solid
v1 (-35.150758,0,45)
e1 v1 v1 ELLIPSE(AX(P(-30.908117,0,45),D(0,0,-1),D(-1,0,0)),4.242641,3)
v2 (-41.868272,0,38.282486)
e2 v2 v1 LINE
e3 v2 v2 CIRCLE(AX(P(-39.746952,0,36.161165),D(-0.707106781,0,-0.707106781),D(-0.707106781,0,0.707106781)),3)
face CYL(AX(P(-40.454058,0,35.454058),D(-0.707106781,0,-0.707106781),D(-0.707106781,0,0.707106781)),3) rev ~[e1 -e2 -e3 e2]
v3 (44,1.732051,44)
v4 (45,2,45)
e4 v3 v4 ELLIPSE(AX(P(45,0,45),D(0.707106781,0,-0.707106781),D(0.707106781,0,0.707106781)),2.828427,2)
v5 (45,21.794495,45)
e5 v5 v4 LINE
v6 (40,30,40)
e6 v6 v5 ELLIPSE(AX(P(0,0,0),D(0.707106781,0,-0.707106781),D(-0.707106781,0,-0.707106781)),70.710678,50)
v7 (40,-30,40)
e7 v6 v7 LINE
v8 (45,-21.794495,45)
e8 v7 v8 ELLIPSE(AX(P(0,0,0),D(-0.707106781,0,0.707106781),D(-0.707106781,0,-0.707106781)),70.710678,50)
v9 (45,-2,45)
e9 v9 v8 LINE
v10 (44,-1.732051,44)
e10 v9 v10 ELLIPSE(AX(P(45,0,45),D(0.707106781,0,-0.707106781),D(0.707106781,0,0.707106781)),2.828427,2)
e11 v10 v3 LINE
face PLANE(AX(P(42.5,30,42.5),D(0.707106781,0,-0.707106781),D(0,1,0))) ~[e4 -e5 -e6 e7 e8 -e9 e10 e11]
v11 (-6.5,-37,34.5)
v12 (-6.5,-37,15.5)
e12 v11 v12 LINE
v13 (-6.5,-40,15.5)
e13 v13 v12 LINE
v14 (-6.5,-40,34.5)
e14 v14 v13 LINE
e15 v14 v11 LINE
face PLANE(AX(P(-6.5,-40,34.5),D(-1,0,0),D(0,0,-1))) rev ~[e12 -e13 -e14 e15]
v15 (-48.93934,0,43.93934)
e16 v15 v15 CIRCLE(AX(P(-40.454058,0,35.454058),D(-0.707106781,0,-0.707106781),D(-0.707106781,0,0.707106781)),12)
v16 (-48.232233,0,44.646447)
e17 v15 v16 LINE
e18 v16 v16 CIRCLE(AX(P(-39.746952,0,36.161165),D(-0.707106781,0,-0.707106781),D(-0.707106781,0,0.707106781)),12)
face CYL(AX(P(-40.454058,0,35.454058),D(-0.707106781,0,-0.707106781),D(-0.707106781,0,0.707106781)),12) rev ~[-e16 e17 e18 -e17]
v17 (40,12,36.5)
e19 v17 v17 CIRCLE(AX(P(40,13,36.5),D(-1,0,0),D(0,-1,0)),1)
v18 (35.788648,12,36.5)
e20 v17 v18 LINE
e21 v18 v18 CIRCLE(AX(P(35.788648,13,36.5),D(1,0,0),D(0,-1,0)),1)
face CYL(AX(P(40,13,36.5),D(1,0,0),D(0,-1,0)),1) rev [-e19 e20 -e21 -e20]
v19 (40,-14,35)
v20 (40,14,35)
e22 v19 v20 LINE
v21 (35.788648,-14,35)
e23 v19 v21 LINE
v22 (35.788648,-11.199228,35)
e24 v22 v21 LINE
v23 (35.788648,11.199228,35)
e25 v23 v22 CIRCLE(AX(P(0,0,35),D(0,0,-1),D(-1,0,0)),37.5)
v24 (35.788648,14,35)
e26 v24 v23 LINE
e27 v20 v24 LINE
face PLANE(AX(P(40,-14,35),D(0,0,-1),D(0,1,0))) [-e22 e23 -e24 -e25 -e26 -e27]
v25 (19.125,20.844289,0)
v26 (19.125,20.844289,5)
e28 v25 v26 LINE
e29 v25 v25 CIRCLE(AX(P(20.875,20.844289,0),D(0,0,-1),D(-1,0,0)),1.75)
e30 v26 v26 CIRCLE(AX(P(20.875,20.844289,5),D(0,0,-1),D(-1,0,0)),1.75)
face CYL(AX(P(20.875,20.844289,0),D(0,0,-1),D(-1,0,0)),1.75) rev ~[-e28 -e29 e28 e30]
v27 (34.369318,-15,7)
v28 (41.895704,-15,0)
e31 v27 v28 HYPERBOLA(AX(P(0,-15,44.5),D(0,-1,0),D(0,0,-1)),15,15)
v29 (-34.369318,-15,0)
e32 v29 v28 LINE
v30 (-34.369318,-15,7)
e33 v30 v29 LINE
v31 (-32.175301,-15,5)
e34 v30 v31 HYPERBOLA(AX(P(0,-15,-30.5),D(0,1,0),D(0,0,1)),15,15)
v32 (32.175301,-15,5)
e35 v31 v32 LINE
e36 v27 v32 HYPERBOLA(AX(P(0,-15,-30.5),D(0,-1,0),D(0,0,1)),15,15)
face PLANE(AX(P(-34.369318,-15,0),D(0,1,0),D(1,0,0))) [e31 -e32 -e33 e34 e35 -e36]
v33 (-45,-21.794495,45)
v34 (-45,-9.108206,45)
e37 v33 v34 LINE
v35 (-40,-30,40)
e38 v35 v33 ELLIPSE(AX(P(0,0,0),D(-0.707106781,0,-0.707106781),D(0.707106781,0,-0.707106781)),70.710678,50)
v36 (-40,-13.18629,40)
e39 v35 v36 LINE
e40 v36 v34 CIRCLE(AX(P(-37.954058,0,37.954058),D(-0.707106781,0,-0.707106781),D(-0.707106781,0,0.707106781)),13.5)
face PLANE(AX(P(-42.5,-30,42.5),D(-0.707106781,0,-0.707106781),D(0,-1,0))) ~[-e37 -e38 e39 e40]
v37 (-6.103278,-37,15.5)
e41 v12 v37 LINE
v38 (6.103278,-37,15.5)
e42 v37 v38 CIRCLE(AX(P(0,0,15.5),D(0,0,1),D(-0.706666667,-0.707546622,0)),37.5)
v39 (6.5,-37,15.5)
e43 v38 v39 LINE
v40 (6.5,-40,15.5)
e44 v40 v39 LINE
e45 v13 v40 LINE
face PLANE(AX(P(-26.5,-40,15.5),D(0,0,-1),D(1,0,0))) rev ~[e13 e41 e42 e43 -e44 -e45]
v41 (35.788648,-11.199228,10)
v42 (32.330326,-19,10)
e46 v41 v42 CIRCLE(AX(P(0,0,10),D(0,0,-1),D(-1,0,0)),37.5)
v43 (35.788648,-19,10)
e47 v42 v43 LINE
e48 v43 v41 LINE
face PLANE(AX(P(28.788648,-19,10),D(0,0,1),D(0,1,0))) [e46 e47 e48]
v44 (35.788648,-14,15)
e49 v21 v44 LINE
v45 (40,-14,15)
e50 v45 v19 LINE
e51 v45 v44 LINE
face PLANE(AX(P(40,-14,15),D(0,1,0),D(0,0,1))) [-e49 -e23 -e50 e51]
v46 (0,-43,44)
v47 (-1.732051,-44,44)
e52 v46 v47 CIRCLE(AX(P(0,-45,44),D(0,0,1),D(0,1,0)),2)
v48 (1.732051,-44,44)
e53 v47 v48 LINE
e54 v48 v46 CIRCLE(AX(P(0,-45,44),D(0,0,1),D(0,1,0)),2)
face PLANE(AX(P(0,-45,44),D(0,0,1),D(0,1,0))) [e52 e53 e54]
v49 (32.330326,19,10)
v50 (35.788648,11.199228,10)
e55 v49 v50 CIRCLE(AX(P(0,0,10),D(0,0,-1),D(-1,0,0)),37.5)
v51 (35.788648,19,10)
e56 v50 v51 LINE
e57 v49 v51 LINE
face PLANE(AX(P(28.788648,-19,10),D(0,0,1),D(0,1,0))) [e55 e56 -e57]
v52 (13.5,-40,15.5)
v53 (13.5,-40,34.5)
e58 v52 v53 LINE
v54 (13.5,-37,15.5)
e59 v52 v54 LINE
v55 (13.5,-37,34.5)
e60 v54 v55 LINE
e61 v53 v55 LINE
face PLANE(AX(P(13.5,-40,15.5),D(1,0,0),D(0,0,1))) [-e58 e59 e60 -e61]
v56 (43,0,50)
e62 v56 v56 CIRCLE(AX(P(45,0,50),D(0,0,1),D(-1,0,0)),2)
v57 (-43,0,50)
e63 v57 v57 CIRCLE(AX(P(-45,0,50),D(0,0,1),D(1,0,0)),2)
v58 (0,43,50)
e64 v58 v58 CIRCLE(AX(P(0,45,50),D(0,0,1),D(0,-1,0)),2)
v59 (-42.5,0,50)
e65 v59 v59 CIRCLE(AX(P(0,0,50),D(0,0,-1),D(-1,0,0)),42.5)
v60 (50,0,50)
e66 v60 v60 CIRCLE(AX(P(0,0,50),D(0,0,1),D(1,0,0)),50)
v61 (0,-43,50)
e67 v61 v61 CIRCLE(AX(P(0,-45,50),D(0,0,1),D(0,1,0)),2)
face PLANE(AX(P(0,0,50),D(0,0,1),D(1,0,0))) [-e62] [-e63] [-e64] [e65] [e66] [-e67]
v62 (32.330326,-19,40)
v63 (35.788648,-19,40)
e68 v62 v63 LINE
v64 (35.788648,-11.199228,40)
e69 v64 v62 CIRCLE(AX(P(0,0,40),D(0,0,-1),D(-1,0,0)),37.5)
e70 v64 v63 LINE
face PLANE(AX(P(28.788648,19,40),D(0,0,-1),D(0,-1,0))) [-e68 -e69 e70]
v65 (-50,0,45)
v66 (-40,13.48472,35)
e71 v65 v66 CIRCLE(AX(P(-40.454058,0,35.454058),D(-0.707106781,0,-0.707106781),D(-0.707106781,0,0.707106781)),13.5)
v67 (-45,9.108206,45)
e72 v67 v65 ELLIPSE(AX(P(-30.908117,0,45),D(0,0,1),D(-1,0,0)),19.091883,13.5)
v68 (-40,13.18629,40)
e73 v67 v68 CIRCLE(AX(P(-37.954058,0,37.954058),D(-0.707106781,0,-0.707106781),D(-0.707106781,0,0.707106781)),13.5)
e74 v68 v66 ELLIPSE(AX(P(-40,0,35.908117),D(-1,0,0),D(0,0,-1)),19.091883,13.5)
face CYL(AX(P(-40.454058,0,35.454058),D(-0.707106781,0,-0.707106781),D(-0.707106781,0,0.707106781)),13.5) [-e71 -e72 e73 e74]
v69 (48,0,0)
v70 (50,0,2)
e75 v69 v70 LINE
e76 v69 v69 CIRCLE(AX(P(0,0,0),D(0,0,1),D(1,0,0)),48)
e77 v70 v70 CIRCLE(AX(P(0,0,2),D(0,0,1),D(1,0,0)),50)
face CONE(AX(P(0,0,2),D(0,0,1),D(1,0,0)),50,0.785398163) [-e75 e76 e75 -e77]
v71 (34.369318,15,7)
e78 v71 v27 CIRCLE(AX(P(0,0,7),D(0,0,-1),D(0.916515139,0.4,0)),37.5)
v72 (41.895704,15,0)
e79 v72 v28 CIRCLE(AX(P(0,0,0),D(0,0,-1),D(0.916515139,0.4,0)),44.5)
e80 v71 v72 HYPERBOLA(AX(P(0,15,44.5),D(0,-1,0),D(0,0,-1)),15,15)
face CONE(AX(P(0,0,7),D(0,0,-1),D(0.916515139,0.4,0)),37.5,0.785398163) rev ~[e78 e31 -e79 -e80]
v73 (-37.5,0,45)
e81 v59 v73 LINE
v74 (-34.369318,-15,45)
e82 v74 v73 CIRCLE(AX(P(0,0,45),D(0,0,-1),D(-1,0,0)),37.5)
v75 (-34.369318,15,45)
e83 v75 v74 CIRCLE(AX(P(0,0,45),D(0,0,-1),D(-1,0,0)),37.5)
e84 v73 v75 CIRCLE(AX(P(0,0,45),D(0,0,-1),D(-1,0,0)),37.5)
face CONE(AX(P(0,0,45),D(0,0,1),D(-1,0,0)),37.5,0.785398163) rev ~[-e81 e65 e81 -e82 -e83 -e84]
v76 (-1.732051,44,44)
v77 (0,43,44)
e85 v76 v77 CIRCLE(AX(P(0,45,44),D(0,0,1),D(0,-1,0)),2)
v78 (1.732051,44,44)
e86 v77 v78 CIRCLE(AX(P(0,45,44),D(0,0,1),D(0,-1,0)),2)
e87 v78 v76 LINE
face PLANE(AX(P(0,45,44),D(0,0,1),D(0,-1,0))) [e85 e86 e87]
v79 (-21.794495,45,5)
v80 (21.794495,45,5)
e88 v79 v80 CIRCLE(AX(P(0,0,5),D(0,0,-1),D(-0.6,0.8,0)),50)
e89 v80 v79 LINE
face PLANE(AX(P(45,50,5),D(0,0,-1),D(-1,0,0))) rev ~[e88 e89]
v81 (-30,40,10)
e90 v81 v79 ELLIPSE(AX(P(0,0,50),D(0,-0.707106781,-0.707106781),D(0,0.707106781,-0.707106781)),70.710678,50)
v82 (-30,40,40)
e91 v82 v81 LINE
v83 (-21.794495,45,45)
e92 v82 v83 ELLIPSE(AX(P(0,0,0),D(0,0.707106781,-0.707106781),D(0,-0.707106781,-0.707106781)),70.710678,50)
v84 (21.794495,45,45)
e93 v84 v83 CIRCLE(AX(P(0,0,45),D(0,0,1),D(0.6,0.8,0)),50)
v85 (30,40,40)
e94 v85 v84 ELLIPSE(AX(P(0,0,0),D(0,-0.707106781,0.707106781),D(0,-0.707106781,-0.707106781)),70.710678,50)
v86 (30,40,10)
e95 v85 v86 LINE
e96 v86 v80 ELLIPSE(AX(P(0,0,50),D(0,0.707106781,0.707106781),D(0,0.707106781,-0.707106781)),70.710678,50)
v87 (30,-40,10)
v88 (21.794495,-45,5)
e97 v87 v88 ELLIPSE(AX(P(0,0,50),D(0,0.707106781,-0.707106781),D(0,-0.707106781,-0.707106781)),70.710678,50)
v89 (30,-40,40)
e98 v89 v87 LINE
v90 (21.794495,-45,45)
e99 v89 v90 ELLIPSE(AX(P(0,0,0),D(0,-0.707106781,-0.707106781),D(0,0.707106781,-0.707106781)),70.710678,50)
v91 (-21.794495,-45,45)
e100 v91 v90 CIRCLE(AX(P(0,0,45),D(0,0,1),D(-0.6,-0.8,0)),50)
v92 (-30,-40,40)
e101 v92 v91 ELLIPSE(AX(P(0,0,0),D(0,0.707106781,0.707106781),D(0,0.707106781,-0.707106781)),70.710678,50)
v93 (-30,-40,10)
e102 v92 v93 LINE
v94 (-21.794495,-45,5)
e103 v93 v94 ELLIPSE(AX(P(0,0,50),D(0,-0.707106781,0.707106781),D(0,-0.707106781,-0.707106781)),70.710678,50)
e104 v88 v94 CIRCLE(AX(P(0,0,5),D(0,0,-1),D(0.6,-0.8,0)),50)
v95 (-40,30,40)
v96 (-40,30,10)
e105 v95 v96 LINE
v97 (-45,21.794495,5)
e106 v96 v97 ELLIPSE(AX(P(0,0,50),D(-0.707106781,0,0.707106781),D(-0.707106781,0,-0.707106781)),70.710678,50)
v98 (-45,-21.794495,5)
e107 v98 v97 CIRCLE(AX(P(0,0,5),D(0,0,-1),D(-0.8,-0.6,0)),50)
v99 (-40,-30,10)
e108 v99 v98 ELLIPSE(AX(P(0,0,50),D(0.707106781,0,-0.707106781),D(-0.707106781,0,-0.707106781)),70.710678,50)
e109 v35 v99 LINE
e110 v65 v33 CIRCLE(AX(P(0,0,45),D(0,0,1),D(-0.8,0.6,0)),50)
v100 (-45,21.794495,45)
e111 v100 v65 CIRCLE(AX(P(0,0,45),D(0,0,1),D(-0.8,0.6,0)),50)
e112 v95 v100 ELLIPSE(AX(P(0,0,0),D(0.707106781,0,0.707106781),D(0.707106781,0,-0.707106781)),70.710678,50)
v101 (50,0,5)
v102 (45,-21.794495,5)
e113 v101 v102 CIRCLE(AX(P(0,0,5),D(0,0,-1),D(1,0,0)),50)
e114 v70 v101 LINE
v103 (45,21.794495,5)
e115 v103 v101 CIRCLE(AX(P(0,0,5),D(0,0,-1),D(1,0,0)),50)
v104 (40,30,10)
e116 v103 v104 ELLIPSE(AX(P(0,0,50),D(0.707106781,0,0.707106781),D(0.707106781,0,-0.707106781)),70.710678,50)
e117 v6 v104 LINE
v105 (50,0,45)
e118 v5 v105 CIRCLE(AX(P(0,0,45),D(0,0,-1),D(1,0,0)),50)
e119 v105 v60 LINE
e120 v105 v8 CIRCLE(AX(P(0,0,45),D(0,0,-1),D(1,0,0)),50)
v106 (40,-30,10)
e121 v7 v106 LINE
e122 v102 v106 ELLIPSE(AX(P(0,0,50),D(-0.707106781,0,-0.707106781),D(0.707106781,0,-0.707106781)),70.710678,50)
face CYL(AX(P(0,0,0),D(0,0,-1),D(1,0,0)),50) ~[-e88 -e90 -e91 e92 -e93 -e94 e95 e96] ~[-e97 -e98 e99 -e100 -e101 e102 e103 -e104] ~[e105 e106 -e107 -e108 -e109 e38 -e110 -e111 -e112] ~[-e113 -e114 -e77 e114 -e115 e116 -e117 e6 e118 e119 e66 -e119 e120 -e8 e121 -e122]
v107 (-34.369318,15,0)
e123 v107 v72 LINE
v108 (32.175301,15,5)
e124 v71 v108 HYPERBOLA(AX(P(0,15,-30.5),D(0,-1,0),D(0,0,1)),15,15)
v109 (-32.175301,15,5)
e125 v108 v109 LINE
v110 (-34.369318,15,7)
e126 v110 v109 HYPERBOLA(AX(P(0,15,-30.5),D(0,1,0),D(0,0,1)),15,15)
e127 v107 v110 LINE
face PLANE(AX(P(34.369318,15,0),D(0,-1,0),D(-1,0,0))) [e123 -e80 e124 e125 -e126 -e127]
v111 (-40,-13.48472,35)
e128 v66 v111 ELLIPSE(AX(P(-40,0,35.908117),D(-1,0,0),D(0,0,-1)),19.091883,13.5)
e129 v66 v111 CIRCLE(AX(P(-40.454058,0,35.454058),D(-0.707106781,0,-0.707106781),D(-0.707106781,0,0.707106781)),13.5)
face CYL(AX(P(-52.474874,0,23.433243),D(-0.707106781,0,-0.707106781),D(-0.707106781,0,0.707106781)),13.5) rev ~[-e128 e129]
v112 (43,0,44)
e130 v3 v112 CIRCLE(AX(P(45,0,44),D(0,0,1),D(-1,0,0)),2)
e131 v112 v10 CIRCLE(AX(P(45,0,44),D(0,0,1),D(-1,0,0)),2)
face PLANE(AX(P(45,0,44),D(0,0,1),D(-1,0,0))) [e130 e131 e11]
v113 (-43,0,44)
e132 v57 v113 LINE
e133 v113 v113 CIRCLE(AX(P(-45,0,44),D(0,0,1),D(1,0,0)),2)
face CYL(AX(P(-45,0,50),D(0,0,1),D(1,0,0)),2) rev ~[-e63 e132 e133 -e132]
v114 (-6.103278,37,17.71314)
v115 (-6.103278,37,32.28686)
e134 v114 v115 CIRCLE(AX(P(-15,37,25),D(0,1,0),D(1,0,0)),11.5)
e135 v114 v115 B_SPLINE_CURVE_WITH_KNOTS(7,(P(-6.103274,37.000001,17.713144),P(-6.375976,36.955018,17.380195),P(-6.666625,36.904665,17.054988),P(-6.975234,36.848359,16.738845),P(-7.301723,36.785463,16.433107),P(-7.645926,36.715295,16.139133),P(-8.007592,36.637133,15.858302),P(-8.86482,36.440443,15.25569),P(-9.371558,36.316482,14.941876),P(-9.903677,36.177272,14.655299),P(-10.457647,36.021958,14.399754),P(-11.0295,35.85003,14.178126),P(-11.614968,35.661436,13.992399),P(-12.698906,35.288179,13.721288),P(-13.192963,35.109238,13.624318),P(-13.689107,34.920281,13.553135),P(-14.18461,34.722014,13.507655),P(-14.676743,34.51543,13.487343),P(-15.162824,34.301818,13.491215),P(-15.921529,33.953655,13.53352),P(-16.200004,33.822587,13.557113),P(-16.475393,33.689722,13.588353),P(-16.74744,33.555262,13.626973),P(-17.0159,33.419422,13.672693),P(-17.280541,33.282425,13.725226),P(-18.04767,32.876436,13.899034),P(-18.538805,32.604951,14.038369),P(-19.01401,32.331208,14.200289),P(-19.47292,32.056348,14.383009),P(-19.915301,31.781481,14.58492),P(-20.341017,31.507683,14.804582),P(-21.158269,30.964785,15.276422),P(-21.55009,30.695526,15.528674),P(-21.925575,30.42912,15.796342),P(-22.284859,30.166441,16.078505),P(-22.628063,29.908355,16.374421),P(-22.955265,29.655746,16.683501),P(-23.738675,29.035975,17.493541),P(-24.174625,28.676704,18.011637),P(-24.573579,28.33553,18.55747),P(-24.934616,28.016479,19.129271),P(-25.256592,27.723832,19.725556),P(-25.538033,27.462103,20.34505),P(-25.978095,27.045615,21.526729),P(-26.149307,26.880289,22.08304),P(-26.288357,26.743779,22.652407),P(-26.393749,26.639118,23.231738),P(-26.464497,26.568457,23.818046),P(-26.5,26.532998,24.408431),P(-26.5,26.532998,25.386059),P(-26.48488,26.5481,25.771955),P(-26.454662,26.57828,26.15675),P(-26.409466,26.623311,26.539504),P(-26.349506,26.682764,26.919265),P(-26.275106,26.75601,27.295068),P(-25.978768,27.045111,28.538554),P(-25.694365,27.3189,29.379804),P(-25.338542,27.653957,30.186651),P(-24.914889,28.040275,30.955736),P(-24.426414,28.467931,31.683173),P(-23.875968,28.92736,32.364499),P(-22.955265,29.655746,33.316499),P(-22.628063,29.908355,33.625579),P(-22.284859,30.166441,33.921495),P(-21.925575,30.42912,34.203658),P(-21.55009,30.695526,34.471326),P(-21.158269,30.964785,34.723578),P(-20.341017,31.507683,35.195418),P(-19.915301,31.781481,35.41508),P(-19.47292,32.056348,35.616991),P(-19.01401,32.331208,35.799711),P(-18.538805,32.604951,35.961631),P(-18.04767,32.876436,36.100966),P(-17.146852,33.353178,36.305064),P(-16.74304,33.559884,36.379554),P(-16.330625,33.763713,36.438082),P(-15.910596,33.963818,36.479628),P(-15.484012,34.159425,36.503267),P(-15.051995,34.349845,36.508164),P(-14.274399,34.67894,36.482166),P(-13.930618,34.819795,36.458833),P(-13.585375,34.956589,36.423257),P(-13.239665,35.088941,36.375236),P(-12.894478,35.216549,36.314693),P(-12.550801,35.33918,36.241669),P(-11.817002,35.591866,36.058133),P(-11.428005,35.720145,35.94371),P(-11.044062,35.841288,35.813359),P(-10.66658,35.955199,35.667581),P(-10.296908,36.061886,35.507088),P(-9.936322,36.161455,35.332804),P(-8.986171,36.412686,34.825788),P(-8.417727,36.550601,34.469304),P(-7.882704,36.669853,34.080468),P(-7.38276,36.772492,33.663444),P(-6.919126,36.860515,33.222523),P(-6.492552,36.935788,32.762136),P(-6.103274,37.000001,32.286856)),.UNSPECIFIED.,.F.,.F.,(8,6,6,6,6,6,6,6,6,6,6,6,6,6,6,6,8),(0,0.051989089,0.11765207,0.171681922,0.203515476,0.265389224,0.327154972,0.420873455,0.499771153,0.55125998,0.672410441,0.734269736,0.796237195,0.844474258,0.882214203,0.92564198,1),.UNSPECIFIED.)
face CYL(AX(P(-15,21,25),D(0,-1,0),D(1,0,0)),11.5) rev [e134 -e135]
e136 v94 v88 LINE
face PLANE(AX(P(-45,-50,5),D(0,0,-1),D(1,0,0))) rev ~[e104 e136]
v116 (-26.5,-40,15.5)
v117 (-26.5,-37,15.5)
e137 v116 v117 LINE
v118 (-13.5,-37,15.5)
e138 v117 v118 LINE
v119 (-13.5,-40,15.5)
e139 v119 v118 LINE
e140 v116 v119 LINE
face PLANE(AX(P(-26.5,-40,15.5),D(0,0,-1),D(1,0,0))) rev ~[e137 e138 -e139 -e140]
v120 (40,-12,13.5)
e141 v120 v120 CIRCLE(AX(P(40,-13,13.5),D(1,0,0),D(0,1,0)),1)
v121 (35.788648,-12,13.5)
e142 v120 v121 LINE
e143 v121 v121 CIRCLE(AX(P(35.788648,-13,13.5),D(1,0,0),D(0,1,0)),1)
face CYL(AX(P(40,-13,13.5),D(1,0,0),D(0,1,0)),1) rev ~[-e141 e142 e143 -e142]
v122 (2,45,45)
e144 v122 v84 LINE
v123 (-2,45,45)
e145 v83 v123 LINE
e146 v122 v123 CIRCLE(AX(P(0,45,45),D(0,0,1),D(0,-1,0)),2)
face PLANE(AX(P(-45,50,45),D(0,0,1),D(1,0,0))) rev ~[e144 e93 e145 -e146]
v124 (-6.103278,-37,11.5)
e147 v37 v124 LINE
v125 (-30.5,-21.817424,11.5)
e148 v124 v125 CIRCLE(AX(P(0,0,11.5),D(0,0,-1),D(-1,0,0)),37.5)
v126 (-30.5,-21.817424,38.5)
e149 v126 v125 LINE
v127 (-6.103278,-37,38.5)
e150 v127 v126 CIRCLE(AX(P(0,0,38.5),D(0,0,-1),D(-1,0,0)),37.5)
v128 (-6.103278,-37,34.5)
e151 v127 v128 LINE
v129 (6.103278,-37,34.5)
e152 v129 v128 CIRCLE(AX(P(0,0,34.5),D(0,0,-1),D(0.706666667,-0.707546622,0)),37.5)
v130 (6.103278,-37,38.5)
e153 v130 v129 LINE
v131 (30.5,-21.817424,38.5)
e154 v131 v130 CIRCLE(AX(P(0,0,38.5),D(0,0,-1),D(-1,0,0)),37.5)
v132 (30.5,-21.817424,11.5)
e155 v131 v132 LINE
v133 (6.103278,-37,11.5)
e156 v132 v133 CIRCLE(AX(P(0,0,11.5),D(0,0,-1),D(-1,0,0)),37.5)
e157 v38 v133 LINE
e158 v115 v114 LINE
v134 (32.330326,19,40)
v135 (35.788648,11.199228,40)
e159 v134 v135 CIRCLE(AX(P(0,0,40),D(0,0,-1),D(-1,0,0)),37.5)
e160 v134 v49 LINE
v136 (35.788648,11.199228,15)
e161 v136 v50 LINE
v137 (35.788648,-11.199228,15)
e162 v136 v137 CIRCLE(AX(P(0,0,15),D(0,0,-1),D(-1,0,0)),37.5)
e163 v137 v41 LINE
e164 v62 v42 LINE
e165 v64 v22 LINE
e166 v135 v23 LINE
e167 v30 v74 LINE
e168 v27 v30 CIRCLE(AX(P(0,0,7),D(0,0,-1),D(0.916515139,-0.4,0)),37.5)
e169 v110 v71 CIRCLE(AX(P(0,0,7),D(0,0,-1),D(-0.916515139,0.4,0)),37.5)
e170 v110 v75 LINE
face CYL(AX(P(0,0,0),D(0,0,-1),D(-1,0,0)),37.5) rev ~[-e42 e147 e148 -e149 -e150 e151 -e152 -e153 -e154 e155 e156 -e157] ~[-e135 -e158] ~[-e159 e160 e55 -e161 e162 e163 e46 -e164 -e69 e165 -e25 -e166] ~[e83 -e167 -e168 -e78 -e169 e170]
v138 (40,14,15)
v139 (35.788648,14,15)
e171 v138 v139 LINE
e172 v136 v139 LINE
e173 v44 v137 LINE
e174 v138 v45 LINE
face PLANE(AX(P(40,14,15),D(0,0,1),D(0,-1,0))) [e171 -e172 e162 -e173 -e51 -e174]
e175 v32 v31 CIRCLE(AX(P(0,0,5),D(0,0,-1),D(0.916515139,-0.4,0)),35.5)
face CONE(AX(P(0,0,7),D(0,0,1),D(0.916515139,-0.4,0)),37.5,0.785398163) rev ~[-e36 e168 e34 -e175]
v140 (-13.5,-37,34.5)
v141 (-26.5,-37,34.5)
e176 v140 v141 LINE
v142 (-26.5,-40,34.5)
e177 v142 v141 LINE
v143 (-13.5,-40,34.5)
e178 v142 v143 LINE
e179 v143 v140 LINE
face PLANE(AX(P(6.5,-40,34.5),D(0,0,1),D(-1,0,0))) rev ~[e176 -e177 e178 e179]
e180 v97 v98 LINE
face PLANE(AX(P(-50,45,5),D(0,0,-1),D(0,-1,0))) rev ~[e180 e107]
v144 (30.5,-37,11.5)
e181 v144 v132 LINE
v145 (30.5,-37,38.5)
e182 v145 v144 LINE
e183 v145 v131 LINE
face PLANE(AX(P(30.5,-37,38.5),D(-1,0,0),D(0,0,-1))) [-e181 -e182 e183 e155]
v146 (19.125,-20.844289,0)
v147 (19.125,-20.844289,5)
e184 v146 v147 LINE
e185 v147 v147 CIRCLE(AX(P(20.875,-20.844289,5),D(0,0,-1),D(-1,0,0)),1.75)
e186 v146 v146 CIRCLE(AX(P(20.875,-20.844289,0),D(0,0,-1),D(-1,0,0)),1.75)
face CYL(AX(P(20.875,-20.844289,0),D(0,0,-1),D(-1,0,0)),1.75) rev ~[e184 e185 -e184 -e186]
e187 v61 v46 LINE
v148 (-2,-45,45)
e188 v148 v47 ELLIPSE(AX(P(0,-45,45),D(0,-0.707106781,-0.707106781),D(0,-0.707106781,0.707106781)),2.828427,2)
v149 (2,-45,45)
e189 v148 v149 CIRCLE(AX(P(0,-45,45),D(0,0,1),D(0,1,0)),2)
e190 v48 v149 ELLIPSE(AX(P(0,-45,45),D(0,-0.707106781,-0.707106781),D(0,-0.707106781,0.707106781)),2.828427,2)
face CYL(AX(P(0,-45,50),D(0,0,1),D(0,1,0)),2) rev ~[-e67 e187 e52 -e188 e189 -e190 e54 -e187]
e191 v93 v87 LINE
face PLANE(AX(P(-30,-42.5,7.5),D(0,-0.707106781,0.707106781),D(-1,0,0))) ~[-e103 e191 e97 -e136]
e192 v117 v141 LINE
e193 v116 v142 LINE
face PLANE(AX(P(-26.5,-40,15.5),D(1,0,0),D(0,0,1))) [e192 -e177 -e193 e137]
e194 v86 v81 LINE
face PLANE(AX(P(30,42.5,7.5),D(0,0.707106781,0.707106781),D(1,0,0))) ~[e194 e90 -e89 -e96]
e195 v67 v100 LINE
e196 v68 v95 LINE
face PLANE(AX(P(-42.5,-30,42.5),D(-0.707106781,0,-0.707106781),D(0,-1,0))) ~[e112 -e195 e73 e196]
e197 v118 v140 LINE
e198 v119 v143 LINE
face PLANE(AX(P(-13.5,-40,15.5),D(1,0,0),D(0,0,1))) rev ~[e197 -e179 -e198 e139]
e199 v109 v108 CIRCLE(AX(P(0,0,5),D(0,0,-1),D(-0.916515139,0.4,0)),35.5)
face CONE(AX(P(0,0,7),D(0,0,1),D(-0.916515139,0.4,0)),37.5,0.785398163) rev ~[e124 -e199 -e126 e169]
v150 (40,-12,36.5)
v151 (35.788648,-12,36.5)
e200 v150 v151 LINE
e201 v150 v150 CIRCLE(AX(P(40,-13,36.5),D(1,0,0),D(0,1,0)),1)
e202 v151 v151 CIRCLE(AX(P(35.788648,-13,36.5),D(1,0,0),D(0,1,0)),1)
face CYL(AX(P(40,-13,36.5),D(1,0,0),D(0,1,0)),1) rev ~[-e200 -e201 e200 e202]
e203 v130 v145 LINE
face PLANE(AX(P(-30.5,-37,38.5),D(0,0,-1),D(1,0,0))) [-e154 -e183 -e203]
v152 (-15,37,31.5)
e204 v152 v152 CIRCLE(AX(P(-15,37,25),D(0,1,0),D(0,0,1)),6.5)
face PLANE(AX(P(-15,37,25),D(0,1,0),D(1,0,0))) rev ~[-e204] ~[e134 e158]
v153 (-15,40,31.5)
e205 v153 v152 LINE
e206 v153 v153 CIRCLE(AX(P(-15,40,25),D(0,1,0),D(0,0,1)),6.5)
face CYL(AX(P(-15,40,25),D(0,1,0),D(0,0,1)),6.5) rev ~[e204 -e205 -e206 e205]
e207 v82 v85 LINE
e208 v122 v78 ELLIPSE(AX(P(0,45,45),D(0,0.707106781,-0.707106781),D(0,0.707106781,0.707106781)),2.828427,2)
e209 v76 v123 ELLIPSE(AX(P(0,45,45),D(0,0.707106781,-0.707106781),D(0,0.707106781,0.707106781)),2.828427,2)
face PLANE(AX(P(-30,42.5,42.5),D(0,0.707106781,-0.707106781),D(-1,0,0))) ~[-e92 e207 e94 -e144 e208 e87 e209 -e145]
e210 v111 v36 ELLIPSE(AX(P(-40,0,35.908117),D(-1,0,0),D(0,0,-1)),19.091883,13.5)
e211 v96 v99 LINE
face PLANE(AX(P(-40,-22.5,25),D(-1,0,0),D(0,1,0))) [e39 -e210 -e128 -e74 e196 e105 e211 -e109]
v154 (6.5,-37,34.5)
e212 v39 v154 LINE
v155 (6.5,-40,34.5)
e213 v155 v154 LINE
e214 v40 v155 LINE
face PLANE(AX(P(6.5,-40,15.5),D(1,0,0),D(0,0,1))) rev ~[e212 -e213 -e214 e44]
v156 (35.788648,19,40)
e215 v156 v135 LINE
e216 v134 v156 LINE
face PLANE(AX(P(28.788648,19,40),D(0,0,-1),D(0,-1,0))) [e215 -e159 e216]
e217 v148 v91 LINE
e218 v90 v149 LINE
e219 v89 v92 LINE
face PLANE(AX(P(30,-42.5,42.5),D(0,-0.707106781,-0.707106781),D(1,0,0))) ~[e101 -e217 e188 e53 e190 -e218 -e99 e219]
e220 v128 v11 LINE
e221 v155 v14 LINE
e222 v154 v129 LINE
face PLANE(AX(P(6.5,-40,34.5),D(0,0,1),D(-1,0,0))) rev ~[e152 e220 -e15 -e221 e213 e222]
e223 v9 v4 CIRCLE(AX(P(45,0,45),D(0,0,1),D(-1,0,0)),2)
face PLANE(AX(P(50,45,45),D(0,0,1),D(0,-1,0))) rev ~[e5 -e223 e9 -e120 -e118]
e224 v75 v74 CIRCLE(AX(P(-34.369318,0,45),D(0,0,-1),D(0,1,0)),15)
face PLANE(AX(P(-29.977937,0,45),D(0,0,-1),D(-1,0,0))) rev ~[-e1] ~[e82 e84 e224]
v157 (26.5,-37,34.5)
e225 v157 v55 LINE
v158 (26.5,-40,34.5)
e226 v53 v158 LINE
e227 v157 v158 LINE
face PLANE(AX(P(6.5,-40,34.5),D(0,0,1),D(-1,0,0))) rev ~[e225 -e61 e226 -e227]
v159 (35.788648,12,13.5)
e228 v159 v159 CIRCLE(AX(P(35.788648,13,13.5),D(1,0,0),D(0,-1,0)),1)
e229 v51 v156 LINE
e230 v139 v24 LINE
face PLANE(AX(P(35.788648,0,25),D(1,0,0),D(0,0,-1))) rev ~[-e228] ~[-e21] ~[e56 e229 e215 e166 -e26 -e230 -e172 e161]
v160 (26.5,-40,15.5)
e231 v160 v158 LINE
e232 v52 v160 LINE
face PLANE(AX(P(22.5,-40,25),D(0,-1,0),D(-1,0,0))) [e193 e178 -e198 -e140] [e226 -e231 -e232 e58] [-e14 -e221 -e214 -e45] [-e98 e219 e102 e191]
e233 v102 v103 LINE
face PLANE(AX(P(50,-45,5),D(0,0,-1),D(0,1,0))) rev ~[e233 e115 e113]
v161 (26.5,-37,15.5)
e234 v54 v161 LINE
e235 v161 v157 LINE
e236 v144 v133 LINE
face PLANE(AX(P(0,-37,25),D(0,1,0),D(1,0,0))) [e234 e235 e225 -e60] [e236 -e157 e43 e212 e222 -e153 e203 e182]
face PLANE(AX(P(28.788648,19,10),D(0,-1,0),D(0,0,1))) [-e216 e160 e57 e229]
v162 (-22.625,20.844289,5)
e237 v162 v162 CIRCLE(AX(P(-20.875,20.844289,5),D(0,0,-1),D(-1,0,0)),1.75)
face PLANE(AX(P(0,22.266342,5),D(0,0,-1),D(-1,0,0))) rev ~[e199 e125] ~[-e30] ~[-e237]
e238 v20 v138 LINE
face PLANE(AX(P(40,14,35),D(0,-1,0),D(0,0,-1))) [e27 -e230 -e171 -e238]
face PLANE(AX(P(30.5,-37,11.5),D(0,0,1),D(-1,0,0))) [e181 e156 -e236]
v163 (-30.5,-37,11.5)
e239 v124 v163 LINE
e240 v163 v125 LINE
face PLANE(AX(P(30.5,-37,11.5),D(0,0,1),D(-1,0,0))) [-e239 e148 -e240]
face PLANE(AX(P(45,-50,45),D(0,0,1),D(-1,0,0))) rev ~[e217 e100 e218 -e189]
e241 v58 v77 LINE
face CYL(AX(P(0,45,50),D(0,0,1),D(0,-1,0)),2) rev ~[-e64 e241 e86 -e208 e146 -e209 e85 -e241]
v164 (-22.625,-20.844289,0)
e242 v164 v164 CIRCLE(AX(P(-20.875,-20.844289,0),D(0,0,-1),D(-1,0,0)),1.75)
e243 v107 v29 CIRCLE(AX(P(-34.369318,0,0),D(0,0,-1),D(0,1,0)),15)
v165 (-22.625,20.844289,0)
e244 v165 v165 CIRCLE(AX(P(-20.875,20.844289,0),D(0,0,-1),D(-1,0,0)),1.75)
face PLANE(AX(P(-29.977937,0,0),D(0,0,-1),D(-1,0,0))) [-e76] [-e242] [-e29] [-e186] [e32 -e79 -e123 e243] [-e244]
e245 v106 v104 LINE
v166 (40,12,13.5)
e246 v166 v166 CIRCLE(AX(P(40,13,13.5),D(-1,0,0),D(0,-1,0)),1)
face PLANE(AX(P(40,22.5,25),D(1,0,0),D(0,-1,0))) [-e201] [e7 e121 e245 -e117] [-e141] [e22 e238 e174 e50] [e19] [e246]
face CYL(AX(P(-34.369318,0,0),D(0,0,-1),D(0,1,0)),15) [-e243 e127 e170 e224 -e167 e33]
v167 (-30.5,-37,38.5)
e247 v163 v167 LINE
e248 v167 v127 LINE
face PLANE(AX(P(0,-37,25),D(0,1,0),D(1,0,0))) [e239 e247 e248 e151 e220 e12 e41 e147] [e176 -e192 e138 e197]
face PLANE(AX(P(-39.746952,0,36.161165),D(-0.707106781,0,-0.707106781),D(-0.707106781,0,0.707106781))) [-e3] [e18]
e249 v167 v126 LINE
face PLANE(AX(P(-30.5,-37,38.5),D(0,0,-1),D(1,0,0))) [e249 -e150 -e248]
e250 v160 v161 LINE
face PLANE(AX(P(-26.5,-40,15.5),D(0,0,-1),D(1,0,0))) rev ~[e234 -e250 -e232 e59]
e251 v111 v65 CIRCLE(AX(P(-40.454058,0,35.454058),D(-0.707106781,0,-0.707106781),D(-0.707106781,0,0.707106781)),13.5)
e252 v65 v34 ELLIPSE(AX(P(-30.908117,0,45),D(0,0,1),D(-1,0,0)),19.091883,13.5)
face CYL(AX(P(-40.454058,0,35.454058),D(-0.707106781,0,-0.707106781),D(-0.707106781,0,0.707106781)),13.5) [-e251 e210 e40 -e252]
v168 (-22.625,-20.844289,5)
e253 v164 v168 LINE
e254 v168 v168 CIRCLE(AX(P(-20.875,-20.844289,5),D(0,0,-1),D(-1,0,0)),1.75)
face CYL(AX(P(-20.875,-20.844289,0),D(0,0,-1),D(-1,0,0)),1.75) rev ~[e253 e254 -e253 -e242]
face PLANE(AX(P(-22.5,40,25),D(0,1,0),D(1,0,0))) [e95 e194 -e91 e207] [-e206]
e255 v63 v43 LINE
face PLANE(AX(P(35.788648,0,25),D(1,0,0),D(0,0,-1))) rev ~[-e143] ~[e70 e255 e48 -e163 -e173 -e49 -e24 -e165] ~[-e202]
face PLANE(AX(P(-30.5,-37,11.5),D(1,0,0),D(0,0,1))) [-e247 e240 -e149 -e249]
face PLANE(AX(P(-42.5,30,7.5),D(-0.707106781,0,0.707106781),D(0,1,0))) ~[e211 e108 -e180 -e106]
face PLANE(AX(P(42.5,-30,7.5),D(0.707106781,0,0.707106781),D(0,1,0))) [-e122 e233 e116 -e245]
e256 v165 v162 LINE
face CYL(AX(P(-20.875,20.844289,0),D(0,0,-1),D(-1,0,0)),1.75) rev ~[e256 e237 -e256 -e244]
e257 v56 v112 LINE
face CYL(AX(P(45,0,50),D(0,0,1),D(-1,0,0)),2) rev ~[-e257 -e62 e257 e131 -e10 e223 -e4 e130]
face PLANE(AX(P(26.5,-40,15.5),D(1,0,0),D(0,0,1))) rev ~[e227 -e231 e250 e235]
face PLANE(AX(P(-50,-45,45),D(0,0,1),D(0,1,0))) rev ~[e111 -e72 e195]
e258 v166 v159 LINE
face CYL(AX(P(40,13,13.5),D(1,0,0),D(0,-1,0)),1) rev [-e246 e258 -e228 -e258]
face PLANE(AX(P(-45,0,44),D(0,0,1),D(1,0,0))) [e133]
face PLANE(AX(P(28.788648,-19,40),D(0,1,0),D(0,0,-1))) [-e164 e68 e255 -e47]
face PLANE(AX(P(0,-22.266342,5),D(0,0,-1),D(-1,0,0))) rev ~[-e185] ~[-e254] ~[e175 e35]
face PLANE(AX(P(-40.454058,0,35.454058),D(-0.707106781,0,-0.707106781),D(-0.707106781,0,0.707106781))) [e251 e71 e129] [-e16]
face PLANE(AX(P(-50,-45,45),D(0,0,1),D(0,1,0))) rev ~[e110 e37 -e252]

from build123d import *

# Parameters (mm, degrees)
ESQUISSE1_R                   = 50
BOSS_EXTRU_1_DEPTH            = 50
ENL_V_MAT_EXTRU_1_DEPTH       = 9.999999999999984
R_P_TITION_CIRCULAIRE1_COUNT  = 4
CHANFREIN1_SIZE               = 5
ESQUISSE11_R                  = 13.500000000000002
BOSS_EXTRU_3_DEPTH            = 4.999999999999999
ESQUISSE4_R                   = 37.50000000000001
ENL_V_MAT_EXTRU_2_DEPTH       = 50
CHANFREIN2_SIZE               = 5
BOSS_EXTRU_2_DEPTH            = 4.9999999999999964
ESQUISSE5_R                   = 1.7500000000000004
ENL_V_MAT_EXTRU_3_DEPTH       = 5
ESQUISSE7_R                   = 2.000000000000003
ENL_V_MAT_EXTRU_4_DEPTH       = 5.999999999999993
R_P_TITION_CIRCULAIRE2_COUNT  = 4
CHANFREIN3_SIZE               = 2
ESQUISSE8_W                   = 13
ESQUISSE8_H                   = 19.000000000000004
ESQUISSE8_W_2                 = 12.999999999999996
ESQUISSE8_H_2                 = 18.999999999999993
ENL_V_MAT_EXTRU_5_DEPTH       = 18.999999999999986
ENL_V_MAT_EXTRU_6_REACH       = 106.174
ENL_V_MAT_EXTRU_8_DEPTH       = 19.000000000000004
BOSS_EXTRU_4_DEPTH            = 45.000000000000014
ENL_V_START                   = 17
ESQUISSE12_R                  = 13.500000000000002
ENL_V_MAT_EXTRU_10_DEPTH      = 17
ESQUISSE15_R                  = 3.0000000000000013
ENL_V_MAT_EXTRU_11_DEPTH      = 17
ESQUISSE16_R                  = 11.99999999999999
ENL_V_MAT_EXTRU_12_DEPTH      = 0.9999999999999931
CHANFREIN4_SIZE               = 7
CHANFREIN5_SIZE               = 2
ENL_V_MAT_EXTRU_13_DEPTH      = 5.999999999999993
ENL_V_MAT_EXTRU_14_DEPTH      = 0.9999999999999931
ENL_V_MAT_EXTRU_14_DEPTH_BACK = 5.999999999999993
ESQUISSE19_R                  = 0.9999999999999983
ENL_V_MAT_EXTRU_15_DEPTH      = 5.999999999999993
ESQUISSE20_R                  = 6.499999999999999
ENL_V_MAT_EXTRU_16_DEPTH      = 13
ENL_V_MAT_EXTRU_17_DEPTH      = 7.9999999999999964
ENL_V_MAT_EXTRU_17_DEPTH_BACK = 7.9999999999999964
ESQUISSE21_R                  = 11.500000000000004


with BuildPart() as part:
    # Esquisse1 → Boss.-Extru.1 (new body)
    with BuildSketch(Plane.XY):
        Circle(ESQUISSE1_R)
    extrude(amount=BOSS_EXTRU_1_DEPTH)

    # Esquisse3 → Enlèv. mat.-Extru.1 (cut)
    with BuildSketch(Plane(origin=(0, 50, 0), x_dir=(1, 0, 0), z_dir=(0, 1, 0))):
        Polygon((0, -45), (0, -4.9999999999999964), (-45.00000000000001, -5.000000000000003), (-45.00000000000001, -45.00000000000001), align=None)
        Polygon((44.99999999999999, -4.99999999999999), (0, -4.9999999999999964), (0, -45), (45, -44.99999999999999), align=None)
    enl_v_mat_extru_1 = extrude(amount=-ENL_V_MAT_EXTRU_1_DEPTH, mode=Mode.SUBTRACT)

    # Répétition circulaire1: Enlèv. mat.-Extru.1 ×4 about axis
    r_p_tition_circulaire1_axis = Axis((0, 0, 0), (0, 0, 1))
    for i in range(1, R_P_TITION_CIRCULAIRE1_COUNT):
        add(enl_v_mat_extru_1.rotate(r_p_tition_circulaire1_axis, i * 360 / R_P_TITION_CIRCULAIRE1_COUNT), mode=Mode.SUBTRACT)

    # Chanfrein1
    chanfrein1_edges = [part.edges().sort_by_distance(p)[0] for p in [
        (0, 40.000000000000014, 45),
        (40.000000000000014, -8.88e-15, 45),
        (40.000000000000014, -8.88e-15, 4.9999999999999964),
        (-4.9e-15, -40.000000000000014, 4.9999999999999964),
        (-40.000000000000014, 4.44e-15, 4.9999999999999964),
        (-4.9e-15, -40.000000000000014, 45),
        (-40.000000000000014, 4.44e-15, 45),
        (0, 40.000000000000014, 4.9999999999999964),
    ]]
    chamfer(chanfrein1_edges, length=CHANFREIN1_SIZE)

    # Esquisse11 → Boss.-Extru.3 (add)
    with BuildSketch(Plane(origin=(-2.499999999999722, 2.657e-14, -2.49999999999975), x_dir=(-0.7071067811865515, -7.515584591766378e-15, 0.7071067811865436), z_dir=(-0.7071067811865436, 7.515584591766462e-15, -0.7071067811865515))):
        with Locations((53.67514421272203, -2.4659e-13)):
            Circle(ESQUISSE11_R)
    extrude(amount=-BOSS_EXTRU_3_DEPTH)

    # Esquisse4 → Enlèv. mat.-Extru.2 (cut)
    with BuildSketch(Plane(origin=(0, 0, 0), x_dir=(-1, 0, 0), z_dir=(0, 0, -1))):
        Circle(ESQUISSE4_R)
    extrude(amount=-ENL_V_MAT_EXTRU_2_DEPTH, mode=Mode.SUBTRACT)

    # Chanfrein2
    chanfrein2_edges = [part.edges().sort_by_distance(p)[0] for p in [
        (37.50000000000001, 4.59e-15, 50),
    ]]
    chamfer(chanfrein2_edges, length=CHANFREIN2_SIZE)

    # Esquisse6 → Boss.-Extru.2 (add)
    with BuildSketch(Plane(origin=(0, 0, 0), x_dir=(-1, 0, 0), z_dir=(0, 0, -1))):
        with BuildLine():
            ThreePointArc((34.369317712168815, 15.000000000000002), (2.3e-15, 37.500000000000014), (-34.369317712168815, 15.000000000000004))
            Line((-34.36931771216881, 15), (34.36931771216881, 15))
        make_face()
        with BuildLine():
            Line((34.36931771216881, -15), (-34.36931771216881, -15))
            ThreePointArc((-34.369317712168815, -14.999999999999996), (-6.89e-15, -37.500000000000014), (34.369317712168815, -15.000000000000009))
        make_face()
    extrude(amount=-BOSS_EXTRU_2_DEPTH)

    # Esquisse5 → Enlèv. mat.-Extru.3 (cut)
    with BuildSketch(Plane(origin=(0, 0, 0), x_dir=(-1, 0, 0), z_dir=(0, 0, -1))):
        with Locations((-20.875, 20.844288786139956)):
            Circle(ESQUISSE5_R)
        with Locations((20.875, 20.844288786139956)):
            Circle(ESQUISSE5_R)
        with Locations((-20.875, -20.844288786139956)):
            Circle(ESQUISSE5_R)
        with Locations((20.875, -20.844288786139956)):
            Circle(ESQUISSE5_R)
    extrude(amount=-ENL_V_MAT_EXTRU_3_DEPTH, mode=Mode.SUBTRACT)

    # Esquisse7 → Enlèv. mat.-Extru.4 (cut)
    with BuildSketch(Plane.XY.offset(50)):
        with Locations((-45, 0)):
            Circle(ESQUISSE7_R)
    enl_v_mat_extru_4 = extrude(amount=-ENL_V_MAT_EXTRU_4_DEPTH, mode=Mode.SUBTRACT)

    # Répétition circulaire2: Enlèv. mat.-Extru.4 ×4 about axis
    r_p_tition_circulaire2_axis = Axis((0, 7.856e-14, 0), (0, 0, 1))
    for i in range(1, R_P_TITION_CIRCULAIRE2_COUNT):
        add(enl_v_mat_extru_4.rotate(r_p_tition_circulaire2_axis, i * 360 / R_P_TITION_CIRCULAIRE2_COUNT), mode=Mode.SUBTRACT)

    # Chanfrein3
    chanfrein3_edges = [part.edges().sort_by_distance(p)[0] for p in [
        (0, 37.50000000000002, 4.9999999999999964),
        (5.33e-15, -37.50000000000001, 4.9999999999999964),
    ]]
    chamfer(chanfrein3_edges, length=CHANFREIN3_SIZE)

    # Esquisse8 → Enlèv. mat.-Extru.5 (cut)
    with BuildSketch(Plane.XZ.offset(40.00000000000002)):
        with Locations((-19.999999999999975, 25.000000000000014)):
            Rectangle(ESQUISSE8_W, ESQUISSE8_H)
        Polygon((6.500000000000003, 15.500000000000291), (6.500000000000003, 34.500000000000284), (-6.499999999999999, 34.500000000000284), (-6.499999999999996, 15.500000000000291), align=None)
        with Locations((19.99999999999998, 25.00000000000001)):
            Rectangle(ESQUISSE8_W_2, ESQUISSE8_H_2)
    extrude(amount=-ENL_V_MAT_EXTRU_5_DEPTH, mode=Mode.SUBTRACT)

    # Enlèv. mat.-Extru.6: up to this face of the body (flat: up to its plane)
    enl_v_mat_extru_6_end = Plane(part.part.faces().sort_by_distance((-26.5, -33.266499161, 25))[0])
    # Esquisse9 → Enlèv. mat.-Extru.6 (cut, up to the picked face)
    with BuildSketch(Plane.ZY.offset(-26.49999999999998), mode=Mode.PRIVATE) as enl_v_mat_extru_6_sk1:
        Polygon((15.500000000000014, -26.53299832284323), (15.500000000000014, -37.00000000000002), (34.50000000000001, -37.00000000000002), (34.50000000000001, -26.532998322843227), align=None)
    enl_v_mat_extru_6_tool1 = split(extrude(enl_v_mat_extru_6_sk1.sketch, amount=ENL_V_MAT_EXTRU_6_REACH, mode=Mode.PRIVATE), bisect_by=enl_v_mat_extru_6_end, keep=Keep.BOTH, mode=Mode.PRIVATE)
    add(enl_v_mat_extru_6_tool1.solids().sort_by(Axis((26.5, -31.766499, 25), (-1, 0, 0)))[0], mode=Mode.SUBTRACT)

    # Esquisse10 → Enlèv. mat.-Extru.8 (cut)
    with BuildSketch(Plane(origin=(0, -37.00000000000002, 0), x_dir=(1, 0, 0), z_dir=(0, 1, 0))):
        Polygon((30.49999999999998, -38.50000000000001), (30.49999999999997, -11.500000000000014), (-30.499999999999968, -11.500000000000014), (-30.499999999999968, -38.500000000000014), align=None)
    extrude(amount=ENL_V_MAT_EXTRU_8_DEPTH, mode=Mode.SUBTRACT)

    # Esquisse14 → Boss.-Extru.4 (add)
    with BuildSketch(Plane(origin=(0, 0, 0), x_dir=(-1, 0, 0), z_dir=(0, 0, -1))):
        with BuildLine():
            ThreePointArc((34.36931771216881, 15), (19.369317712168808, 1.84e-15), (34.36931771216881, -15))
            ThreePointArc((34.36931771216881, -15), (37.50000000000001, 0), (34.36931771216881, 15))
        make_face()
    extrude(amount=-BOSS_EXTRU_4_DEPTH)

    # Esquisse12 → Enlèv. mat.-Extru.10 (cut)
    with BuildSketch(Plane(origin=(-2.4999999999997247, 2.657e-14, -2.499999999999752), x_dir=(-0.7071067811865515, -7.515584591766378e-15, 0.7071067811865436), z_dir=(-0.7071067811865436, 7.515584591766462e-15, -0.7071067811865515)).offset(ENL_V_START)):
        with Locations((53.67514421272203, -2.4659e-13)):
            Circle(ESQUISSE12_R)
    extrude(amount=-ENL_V_MAT_EXTRU_10_DEPTH, mode=Mode.SUBTRACT)

    # Esquisse15 → Enlèv. mat.-Extru.11 (cut)
    with BuildSketch(Plane(origin=(-2.4999999999997247, 2.657e-14, -2.499999999999752), x_dir=(-0.7071067811865515, -7.515584591766378e-15, 0.7071067811865436), z_dir=(-0.7071067811865436, 7.515584591766462e-15, -0.7071067811865515))):
        with Locations((53.67514421272203, -2.4659e-13)):
            Circle(ESQUISSE15_R)
    extrude(amount=-ENL_V_MAT_EXTRU_11_DEPTH, mode=Mode.SUBTRACT)

    # Esquisse16 → Enlèv. mat.-Extru.12 (cut)
    with BuildSketch(Plane(origin=(-2.4999999999997247, 2.657e-14, -2.499999999999752), x_dir=(-0.7071067811865515, -7.515584591766378e-15, 0.7071067811865436), z_dir=(-0.7071067811865436, 7.515584591766462e-15, -0.7071067811865515))):
        with Locations((53.67514421272203, -2.4659e-13)):
            Circle(ESQUISSE16_R)
    extrude(amount=-ENL_V_MAT_EXTRU_12_DEPTH, mode=Mode.SUBTRACT)

    # Chanfrein4
    chanfrein4_edges = [part.edges().sort_by_distance(p)[0] for p in [
        (37.50000000000001, 4.59e-15, 0),
    ]]
    chamfer(chanfrein4_edges, length=CHANFREIN4_SIZE)

    # Chanfrein5
    chanfrein5_edges = [part.edges().sort_by_distance(p)[0] for p in [
        (-50, 6.12e-15, 0),
    ]]
    chamfer(chanfrein5_edges, length=CHANFREIN5_SIZE)

    # Esquisse17 → Enlèv. mat.-Extru.13 (cut)
    with BuildSketch(Plane(origin=(40.00000000000002, -1.3966e-13, 0), x_dir=(0, 0, -1), z_dir=(1, -3.49e-15, 0))):
        Polygon((-15.000000000000014, -13.999999999999998), (-35.000000000000014, -14), (-35.000000000000014, 13.999999999999998), (-15.000000000000014, 14.000000000000002), align=None)
    extrude(amount=-ENL_V_MAT_EXTRU_13_DEPTH, mode=Mode.SUBTRACT)

    # Esquisse18 → Enlèv. mat.-Extru.14 (cut, two sides: drawn at the far end of the back side and taken through both)
    with BuildSketch(Plane(origin=(34.7886475735979, -1.4656e-13, -2.414e-14), x_dir=(-6.9e-16, 0, -1), z_dir=(1, -4.21e-15, -6.9e-16)).offset(-ENL_V_MAT_EXTRU_14_DEPTH_BACK)):
        Polygon((-10.00000000000004, -18.999999999999968), (-10.00000000000004, 19.000000000000032), (-40.00000000000004, 19.00000000000003), (-40.00000000000004, -18.99999999999997), align=None)
    extrude(amount=ENL_V_MAT_EXTRU_14_DEPTH + ENL_V_MAT_EXTRU_14_DEPTH_BACK, mode=Mode.SUBTRACT)

    # Esquisse19 → Enlèv. mat.-Extru.15 (cut)
    with BuildSketch(Plane(origin=(40.00000000000002, -1.3966e-13, 0), x_dir=(0, 0, -1), z_dir=(1, -3.49e-15, 0))):
        with Locations(Location((-36.500000000000014, -13.000000000000002, 0), (0, 0, 90))):
            Circle(ESQUISSE19_R)
        with Locations(Location((-13.500000000000005, -13.000000000000002, 0), (0, 0, 90))):
            Circle(ESQUISSE19_R)
    enl_v_mat_extru_15 = extrude(amount=-ENL_V_MAT_EXTRU_15_DEPTH, mode=Mode.SUBTRACT)

    # Symétrie1: Enlèv. mat.-Extru.15 across plane
    add(enl_v_mat_extru_15.mirror(Plane.ZX), mode=Mode.SUBTRACT)

    # Esquisse20 → Enlèv. mat.-Extru.16 (cut)
    with BuildSketch(Plane(origin=(0, 40.00000000000002, 0), x_dir=(1, 0, 0), z_dir=(0, 1, 0))):
        with Locations(Location((-14.999999999999986, -25.00000000000001, 0), (0, 0, 270))):
            Circle(ESQUISSE20_R)
    extrude(amount=-ENL_V_MAT_EXTRU_16_DEPTH, mode=Mode.SUBTRACT)

    # Esquisse21 → Enlèv. mat.-Extru.17 (cut, two sides: drawn at the far end of the back side and taken through both)
    with BuildSketch(Plane(origin=(0, 29.00000000000002, 0), x_dir=(1, 0, 0), z_dir=(0, 1, 0)).offset(-ENL_V_MAT_EXTRU_17_DEPTH_BACK)):
        with Locations((-14.999999999999986, -25.00000000000001)):
            Circle(ESQUISSE21_R)
    extrude(amount=ENL_V_MAT_EXTRU_17_DEPTH + ENL_V_MAT_EXTRU_17_DEPTH_BACK, mode=Mode.SUBTRACT)


solid = part.part
